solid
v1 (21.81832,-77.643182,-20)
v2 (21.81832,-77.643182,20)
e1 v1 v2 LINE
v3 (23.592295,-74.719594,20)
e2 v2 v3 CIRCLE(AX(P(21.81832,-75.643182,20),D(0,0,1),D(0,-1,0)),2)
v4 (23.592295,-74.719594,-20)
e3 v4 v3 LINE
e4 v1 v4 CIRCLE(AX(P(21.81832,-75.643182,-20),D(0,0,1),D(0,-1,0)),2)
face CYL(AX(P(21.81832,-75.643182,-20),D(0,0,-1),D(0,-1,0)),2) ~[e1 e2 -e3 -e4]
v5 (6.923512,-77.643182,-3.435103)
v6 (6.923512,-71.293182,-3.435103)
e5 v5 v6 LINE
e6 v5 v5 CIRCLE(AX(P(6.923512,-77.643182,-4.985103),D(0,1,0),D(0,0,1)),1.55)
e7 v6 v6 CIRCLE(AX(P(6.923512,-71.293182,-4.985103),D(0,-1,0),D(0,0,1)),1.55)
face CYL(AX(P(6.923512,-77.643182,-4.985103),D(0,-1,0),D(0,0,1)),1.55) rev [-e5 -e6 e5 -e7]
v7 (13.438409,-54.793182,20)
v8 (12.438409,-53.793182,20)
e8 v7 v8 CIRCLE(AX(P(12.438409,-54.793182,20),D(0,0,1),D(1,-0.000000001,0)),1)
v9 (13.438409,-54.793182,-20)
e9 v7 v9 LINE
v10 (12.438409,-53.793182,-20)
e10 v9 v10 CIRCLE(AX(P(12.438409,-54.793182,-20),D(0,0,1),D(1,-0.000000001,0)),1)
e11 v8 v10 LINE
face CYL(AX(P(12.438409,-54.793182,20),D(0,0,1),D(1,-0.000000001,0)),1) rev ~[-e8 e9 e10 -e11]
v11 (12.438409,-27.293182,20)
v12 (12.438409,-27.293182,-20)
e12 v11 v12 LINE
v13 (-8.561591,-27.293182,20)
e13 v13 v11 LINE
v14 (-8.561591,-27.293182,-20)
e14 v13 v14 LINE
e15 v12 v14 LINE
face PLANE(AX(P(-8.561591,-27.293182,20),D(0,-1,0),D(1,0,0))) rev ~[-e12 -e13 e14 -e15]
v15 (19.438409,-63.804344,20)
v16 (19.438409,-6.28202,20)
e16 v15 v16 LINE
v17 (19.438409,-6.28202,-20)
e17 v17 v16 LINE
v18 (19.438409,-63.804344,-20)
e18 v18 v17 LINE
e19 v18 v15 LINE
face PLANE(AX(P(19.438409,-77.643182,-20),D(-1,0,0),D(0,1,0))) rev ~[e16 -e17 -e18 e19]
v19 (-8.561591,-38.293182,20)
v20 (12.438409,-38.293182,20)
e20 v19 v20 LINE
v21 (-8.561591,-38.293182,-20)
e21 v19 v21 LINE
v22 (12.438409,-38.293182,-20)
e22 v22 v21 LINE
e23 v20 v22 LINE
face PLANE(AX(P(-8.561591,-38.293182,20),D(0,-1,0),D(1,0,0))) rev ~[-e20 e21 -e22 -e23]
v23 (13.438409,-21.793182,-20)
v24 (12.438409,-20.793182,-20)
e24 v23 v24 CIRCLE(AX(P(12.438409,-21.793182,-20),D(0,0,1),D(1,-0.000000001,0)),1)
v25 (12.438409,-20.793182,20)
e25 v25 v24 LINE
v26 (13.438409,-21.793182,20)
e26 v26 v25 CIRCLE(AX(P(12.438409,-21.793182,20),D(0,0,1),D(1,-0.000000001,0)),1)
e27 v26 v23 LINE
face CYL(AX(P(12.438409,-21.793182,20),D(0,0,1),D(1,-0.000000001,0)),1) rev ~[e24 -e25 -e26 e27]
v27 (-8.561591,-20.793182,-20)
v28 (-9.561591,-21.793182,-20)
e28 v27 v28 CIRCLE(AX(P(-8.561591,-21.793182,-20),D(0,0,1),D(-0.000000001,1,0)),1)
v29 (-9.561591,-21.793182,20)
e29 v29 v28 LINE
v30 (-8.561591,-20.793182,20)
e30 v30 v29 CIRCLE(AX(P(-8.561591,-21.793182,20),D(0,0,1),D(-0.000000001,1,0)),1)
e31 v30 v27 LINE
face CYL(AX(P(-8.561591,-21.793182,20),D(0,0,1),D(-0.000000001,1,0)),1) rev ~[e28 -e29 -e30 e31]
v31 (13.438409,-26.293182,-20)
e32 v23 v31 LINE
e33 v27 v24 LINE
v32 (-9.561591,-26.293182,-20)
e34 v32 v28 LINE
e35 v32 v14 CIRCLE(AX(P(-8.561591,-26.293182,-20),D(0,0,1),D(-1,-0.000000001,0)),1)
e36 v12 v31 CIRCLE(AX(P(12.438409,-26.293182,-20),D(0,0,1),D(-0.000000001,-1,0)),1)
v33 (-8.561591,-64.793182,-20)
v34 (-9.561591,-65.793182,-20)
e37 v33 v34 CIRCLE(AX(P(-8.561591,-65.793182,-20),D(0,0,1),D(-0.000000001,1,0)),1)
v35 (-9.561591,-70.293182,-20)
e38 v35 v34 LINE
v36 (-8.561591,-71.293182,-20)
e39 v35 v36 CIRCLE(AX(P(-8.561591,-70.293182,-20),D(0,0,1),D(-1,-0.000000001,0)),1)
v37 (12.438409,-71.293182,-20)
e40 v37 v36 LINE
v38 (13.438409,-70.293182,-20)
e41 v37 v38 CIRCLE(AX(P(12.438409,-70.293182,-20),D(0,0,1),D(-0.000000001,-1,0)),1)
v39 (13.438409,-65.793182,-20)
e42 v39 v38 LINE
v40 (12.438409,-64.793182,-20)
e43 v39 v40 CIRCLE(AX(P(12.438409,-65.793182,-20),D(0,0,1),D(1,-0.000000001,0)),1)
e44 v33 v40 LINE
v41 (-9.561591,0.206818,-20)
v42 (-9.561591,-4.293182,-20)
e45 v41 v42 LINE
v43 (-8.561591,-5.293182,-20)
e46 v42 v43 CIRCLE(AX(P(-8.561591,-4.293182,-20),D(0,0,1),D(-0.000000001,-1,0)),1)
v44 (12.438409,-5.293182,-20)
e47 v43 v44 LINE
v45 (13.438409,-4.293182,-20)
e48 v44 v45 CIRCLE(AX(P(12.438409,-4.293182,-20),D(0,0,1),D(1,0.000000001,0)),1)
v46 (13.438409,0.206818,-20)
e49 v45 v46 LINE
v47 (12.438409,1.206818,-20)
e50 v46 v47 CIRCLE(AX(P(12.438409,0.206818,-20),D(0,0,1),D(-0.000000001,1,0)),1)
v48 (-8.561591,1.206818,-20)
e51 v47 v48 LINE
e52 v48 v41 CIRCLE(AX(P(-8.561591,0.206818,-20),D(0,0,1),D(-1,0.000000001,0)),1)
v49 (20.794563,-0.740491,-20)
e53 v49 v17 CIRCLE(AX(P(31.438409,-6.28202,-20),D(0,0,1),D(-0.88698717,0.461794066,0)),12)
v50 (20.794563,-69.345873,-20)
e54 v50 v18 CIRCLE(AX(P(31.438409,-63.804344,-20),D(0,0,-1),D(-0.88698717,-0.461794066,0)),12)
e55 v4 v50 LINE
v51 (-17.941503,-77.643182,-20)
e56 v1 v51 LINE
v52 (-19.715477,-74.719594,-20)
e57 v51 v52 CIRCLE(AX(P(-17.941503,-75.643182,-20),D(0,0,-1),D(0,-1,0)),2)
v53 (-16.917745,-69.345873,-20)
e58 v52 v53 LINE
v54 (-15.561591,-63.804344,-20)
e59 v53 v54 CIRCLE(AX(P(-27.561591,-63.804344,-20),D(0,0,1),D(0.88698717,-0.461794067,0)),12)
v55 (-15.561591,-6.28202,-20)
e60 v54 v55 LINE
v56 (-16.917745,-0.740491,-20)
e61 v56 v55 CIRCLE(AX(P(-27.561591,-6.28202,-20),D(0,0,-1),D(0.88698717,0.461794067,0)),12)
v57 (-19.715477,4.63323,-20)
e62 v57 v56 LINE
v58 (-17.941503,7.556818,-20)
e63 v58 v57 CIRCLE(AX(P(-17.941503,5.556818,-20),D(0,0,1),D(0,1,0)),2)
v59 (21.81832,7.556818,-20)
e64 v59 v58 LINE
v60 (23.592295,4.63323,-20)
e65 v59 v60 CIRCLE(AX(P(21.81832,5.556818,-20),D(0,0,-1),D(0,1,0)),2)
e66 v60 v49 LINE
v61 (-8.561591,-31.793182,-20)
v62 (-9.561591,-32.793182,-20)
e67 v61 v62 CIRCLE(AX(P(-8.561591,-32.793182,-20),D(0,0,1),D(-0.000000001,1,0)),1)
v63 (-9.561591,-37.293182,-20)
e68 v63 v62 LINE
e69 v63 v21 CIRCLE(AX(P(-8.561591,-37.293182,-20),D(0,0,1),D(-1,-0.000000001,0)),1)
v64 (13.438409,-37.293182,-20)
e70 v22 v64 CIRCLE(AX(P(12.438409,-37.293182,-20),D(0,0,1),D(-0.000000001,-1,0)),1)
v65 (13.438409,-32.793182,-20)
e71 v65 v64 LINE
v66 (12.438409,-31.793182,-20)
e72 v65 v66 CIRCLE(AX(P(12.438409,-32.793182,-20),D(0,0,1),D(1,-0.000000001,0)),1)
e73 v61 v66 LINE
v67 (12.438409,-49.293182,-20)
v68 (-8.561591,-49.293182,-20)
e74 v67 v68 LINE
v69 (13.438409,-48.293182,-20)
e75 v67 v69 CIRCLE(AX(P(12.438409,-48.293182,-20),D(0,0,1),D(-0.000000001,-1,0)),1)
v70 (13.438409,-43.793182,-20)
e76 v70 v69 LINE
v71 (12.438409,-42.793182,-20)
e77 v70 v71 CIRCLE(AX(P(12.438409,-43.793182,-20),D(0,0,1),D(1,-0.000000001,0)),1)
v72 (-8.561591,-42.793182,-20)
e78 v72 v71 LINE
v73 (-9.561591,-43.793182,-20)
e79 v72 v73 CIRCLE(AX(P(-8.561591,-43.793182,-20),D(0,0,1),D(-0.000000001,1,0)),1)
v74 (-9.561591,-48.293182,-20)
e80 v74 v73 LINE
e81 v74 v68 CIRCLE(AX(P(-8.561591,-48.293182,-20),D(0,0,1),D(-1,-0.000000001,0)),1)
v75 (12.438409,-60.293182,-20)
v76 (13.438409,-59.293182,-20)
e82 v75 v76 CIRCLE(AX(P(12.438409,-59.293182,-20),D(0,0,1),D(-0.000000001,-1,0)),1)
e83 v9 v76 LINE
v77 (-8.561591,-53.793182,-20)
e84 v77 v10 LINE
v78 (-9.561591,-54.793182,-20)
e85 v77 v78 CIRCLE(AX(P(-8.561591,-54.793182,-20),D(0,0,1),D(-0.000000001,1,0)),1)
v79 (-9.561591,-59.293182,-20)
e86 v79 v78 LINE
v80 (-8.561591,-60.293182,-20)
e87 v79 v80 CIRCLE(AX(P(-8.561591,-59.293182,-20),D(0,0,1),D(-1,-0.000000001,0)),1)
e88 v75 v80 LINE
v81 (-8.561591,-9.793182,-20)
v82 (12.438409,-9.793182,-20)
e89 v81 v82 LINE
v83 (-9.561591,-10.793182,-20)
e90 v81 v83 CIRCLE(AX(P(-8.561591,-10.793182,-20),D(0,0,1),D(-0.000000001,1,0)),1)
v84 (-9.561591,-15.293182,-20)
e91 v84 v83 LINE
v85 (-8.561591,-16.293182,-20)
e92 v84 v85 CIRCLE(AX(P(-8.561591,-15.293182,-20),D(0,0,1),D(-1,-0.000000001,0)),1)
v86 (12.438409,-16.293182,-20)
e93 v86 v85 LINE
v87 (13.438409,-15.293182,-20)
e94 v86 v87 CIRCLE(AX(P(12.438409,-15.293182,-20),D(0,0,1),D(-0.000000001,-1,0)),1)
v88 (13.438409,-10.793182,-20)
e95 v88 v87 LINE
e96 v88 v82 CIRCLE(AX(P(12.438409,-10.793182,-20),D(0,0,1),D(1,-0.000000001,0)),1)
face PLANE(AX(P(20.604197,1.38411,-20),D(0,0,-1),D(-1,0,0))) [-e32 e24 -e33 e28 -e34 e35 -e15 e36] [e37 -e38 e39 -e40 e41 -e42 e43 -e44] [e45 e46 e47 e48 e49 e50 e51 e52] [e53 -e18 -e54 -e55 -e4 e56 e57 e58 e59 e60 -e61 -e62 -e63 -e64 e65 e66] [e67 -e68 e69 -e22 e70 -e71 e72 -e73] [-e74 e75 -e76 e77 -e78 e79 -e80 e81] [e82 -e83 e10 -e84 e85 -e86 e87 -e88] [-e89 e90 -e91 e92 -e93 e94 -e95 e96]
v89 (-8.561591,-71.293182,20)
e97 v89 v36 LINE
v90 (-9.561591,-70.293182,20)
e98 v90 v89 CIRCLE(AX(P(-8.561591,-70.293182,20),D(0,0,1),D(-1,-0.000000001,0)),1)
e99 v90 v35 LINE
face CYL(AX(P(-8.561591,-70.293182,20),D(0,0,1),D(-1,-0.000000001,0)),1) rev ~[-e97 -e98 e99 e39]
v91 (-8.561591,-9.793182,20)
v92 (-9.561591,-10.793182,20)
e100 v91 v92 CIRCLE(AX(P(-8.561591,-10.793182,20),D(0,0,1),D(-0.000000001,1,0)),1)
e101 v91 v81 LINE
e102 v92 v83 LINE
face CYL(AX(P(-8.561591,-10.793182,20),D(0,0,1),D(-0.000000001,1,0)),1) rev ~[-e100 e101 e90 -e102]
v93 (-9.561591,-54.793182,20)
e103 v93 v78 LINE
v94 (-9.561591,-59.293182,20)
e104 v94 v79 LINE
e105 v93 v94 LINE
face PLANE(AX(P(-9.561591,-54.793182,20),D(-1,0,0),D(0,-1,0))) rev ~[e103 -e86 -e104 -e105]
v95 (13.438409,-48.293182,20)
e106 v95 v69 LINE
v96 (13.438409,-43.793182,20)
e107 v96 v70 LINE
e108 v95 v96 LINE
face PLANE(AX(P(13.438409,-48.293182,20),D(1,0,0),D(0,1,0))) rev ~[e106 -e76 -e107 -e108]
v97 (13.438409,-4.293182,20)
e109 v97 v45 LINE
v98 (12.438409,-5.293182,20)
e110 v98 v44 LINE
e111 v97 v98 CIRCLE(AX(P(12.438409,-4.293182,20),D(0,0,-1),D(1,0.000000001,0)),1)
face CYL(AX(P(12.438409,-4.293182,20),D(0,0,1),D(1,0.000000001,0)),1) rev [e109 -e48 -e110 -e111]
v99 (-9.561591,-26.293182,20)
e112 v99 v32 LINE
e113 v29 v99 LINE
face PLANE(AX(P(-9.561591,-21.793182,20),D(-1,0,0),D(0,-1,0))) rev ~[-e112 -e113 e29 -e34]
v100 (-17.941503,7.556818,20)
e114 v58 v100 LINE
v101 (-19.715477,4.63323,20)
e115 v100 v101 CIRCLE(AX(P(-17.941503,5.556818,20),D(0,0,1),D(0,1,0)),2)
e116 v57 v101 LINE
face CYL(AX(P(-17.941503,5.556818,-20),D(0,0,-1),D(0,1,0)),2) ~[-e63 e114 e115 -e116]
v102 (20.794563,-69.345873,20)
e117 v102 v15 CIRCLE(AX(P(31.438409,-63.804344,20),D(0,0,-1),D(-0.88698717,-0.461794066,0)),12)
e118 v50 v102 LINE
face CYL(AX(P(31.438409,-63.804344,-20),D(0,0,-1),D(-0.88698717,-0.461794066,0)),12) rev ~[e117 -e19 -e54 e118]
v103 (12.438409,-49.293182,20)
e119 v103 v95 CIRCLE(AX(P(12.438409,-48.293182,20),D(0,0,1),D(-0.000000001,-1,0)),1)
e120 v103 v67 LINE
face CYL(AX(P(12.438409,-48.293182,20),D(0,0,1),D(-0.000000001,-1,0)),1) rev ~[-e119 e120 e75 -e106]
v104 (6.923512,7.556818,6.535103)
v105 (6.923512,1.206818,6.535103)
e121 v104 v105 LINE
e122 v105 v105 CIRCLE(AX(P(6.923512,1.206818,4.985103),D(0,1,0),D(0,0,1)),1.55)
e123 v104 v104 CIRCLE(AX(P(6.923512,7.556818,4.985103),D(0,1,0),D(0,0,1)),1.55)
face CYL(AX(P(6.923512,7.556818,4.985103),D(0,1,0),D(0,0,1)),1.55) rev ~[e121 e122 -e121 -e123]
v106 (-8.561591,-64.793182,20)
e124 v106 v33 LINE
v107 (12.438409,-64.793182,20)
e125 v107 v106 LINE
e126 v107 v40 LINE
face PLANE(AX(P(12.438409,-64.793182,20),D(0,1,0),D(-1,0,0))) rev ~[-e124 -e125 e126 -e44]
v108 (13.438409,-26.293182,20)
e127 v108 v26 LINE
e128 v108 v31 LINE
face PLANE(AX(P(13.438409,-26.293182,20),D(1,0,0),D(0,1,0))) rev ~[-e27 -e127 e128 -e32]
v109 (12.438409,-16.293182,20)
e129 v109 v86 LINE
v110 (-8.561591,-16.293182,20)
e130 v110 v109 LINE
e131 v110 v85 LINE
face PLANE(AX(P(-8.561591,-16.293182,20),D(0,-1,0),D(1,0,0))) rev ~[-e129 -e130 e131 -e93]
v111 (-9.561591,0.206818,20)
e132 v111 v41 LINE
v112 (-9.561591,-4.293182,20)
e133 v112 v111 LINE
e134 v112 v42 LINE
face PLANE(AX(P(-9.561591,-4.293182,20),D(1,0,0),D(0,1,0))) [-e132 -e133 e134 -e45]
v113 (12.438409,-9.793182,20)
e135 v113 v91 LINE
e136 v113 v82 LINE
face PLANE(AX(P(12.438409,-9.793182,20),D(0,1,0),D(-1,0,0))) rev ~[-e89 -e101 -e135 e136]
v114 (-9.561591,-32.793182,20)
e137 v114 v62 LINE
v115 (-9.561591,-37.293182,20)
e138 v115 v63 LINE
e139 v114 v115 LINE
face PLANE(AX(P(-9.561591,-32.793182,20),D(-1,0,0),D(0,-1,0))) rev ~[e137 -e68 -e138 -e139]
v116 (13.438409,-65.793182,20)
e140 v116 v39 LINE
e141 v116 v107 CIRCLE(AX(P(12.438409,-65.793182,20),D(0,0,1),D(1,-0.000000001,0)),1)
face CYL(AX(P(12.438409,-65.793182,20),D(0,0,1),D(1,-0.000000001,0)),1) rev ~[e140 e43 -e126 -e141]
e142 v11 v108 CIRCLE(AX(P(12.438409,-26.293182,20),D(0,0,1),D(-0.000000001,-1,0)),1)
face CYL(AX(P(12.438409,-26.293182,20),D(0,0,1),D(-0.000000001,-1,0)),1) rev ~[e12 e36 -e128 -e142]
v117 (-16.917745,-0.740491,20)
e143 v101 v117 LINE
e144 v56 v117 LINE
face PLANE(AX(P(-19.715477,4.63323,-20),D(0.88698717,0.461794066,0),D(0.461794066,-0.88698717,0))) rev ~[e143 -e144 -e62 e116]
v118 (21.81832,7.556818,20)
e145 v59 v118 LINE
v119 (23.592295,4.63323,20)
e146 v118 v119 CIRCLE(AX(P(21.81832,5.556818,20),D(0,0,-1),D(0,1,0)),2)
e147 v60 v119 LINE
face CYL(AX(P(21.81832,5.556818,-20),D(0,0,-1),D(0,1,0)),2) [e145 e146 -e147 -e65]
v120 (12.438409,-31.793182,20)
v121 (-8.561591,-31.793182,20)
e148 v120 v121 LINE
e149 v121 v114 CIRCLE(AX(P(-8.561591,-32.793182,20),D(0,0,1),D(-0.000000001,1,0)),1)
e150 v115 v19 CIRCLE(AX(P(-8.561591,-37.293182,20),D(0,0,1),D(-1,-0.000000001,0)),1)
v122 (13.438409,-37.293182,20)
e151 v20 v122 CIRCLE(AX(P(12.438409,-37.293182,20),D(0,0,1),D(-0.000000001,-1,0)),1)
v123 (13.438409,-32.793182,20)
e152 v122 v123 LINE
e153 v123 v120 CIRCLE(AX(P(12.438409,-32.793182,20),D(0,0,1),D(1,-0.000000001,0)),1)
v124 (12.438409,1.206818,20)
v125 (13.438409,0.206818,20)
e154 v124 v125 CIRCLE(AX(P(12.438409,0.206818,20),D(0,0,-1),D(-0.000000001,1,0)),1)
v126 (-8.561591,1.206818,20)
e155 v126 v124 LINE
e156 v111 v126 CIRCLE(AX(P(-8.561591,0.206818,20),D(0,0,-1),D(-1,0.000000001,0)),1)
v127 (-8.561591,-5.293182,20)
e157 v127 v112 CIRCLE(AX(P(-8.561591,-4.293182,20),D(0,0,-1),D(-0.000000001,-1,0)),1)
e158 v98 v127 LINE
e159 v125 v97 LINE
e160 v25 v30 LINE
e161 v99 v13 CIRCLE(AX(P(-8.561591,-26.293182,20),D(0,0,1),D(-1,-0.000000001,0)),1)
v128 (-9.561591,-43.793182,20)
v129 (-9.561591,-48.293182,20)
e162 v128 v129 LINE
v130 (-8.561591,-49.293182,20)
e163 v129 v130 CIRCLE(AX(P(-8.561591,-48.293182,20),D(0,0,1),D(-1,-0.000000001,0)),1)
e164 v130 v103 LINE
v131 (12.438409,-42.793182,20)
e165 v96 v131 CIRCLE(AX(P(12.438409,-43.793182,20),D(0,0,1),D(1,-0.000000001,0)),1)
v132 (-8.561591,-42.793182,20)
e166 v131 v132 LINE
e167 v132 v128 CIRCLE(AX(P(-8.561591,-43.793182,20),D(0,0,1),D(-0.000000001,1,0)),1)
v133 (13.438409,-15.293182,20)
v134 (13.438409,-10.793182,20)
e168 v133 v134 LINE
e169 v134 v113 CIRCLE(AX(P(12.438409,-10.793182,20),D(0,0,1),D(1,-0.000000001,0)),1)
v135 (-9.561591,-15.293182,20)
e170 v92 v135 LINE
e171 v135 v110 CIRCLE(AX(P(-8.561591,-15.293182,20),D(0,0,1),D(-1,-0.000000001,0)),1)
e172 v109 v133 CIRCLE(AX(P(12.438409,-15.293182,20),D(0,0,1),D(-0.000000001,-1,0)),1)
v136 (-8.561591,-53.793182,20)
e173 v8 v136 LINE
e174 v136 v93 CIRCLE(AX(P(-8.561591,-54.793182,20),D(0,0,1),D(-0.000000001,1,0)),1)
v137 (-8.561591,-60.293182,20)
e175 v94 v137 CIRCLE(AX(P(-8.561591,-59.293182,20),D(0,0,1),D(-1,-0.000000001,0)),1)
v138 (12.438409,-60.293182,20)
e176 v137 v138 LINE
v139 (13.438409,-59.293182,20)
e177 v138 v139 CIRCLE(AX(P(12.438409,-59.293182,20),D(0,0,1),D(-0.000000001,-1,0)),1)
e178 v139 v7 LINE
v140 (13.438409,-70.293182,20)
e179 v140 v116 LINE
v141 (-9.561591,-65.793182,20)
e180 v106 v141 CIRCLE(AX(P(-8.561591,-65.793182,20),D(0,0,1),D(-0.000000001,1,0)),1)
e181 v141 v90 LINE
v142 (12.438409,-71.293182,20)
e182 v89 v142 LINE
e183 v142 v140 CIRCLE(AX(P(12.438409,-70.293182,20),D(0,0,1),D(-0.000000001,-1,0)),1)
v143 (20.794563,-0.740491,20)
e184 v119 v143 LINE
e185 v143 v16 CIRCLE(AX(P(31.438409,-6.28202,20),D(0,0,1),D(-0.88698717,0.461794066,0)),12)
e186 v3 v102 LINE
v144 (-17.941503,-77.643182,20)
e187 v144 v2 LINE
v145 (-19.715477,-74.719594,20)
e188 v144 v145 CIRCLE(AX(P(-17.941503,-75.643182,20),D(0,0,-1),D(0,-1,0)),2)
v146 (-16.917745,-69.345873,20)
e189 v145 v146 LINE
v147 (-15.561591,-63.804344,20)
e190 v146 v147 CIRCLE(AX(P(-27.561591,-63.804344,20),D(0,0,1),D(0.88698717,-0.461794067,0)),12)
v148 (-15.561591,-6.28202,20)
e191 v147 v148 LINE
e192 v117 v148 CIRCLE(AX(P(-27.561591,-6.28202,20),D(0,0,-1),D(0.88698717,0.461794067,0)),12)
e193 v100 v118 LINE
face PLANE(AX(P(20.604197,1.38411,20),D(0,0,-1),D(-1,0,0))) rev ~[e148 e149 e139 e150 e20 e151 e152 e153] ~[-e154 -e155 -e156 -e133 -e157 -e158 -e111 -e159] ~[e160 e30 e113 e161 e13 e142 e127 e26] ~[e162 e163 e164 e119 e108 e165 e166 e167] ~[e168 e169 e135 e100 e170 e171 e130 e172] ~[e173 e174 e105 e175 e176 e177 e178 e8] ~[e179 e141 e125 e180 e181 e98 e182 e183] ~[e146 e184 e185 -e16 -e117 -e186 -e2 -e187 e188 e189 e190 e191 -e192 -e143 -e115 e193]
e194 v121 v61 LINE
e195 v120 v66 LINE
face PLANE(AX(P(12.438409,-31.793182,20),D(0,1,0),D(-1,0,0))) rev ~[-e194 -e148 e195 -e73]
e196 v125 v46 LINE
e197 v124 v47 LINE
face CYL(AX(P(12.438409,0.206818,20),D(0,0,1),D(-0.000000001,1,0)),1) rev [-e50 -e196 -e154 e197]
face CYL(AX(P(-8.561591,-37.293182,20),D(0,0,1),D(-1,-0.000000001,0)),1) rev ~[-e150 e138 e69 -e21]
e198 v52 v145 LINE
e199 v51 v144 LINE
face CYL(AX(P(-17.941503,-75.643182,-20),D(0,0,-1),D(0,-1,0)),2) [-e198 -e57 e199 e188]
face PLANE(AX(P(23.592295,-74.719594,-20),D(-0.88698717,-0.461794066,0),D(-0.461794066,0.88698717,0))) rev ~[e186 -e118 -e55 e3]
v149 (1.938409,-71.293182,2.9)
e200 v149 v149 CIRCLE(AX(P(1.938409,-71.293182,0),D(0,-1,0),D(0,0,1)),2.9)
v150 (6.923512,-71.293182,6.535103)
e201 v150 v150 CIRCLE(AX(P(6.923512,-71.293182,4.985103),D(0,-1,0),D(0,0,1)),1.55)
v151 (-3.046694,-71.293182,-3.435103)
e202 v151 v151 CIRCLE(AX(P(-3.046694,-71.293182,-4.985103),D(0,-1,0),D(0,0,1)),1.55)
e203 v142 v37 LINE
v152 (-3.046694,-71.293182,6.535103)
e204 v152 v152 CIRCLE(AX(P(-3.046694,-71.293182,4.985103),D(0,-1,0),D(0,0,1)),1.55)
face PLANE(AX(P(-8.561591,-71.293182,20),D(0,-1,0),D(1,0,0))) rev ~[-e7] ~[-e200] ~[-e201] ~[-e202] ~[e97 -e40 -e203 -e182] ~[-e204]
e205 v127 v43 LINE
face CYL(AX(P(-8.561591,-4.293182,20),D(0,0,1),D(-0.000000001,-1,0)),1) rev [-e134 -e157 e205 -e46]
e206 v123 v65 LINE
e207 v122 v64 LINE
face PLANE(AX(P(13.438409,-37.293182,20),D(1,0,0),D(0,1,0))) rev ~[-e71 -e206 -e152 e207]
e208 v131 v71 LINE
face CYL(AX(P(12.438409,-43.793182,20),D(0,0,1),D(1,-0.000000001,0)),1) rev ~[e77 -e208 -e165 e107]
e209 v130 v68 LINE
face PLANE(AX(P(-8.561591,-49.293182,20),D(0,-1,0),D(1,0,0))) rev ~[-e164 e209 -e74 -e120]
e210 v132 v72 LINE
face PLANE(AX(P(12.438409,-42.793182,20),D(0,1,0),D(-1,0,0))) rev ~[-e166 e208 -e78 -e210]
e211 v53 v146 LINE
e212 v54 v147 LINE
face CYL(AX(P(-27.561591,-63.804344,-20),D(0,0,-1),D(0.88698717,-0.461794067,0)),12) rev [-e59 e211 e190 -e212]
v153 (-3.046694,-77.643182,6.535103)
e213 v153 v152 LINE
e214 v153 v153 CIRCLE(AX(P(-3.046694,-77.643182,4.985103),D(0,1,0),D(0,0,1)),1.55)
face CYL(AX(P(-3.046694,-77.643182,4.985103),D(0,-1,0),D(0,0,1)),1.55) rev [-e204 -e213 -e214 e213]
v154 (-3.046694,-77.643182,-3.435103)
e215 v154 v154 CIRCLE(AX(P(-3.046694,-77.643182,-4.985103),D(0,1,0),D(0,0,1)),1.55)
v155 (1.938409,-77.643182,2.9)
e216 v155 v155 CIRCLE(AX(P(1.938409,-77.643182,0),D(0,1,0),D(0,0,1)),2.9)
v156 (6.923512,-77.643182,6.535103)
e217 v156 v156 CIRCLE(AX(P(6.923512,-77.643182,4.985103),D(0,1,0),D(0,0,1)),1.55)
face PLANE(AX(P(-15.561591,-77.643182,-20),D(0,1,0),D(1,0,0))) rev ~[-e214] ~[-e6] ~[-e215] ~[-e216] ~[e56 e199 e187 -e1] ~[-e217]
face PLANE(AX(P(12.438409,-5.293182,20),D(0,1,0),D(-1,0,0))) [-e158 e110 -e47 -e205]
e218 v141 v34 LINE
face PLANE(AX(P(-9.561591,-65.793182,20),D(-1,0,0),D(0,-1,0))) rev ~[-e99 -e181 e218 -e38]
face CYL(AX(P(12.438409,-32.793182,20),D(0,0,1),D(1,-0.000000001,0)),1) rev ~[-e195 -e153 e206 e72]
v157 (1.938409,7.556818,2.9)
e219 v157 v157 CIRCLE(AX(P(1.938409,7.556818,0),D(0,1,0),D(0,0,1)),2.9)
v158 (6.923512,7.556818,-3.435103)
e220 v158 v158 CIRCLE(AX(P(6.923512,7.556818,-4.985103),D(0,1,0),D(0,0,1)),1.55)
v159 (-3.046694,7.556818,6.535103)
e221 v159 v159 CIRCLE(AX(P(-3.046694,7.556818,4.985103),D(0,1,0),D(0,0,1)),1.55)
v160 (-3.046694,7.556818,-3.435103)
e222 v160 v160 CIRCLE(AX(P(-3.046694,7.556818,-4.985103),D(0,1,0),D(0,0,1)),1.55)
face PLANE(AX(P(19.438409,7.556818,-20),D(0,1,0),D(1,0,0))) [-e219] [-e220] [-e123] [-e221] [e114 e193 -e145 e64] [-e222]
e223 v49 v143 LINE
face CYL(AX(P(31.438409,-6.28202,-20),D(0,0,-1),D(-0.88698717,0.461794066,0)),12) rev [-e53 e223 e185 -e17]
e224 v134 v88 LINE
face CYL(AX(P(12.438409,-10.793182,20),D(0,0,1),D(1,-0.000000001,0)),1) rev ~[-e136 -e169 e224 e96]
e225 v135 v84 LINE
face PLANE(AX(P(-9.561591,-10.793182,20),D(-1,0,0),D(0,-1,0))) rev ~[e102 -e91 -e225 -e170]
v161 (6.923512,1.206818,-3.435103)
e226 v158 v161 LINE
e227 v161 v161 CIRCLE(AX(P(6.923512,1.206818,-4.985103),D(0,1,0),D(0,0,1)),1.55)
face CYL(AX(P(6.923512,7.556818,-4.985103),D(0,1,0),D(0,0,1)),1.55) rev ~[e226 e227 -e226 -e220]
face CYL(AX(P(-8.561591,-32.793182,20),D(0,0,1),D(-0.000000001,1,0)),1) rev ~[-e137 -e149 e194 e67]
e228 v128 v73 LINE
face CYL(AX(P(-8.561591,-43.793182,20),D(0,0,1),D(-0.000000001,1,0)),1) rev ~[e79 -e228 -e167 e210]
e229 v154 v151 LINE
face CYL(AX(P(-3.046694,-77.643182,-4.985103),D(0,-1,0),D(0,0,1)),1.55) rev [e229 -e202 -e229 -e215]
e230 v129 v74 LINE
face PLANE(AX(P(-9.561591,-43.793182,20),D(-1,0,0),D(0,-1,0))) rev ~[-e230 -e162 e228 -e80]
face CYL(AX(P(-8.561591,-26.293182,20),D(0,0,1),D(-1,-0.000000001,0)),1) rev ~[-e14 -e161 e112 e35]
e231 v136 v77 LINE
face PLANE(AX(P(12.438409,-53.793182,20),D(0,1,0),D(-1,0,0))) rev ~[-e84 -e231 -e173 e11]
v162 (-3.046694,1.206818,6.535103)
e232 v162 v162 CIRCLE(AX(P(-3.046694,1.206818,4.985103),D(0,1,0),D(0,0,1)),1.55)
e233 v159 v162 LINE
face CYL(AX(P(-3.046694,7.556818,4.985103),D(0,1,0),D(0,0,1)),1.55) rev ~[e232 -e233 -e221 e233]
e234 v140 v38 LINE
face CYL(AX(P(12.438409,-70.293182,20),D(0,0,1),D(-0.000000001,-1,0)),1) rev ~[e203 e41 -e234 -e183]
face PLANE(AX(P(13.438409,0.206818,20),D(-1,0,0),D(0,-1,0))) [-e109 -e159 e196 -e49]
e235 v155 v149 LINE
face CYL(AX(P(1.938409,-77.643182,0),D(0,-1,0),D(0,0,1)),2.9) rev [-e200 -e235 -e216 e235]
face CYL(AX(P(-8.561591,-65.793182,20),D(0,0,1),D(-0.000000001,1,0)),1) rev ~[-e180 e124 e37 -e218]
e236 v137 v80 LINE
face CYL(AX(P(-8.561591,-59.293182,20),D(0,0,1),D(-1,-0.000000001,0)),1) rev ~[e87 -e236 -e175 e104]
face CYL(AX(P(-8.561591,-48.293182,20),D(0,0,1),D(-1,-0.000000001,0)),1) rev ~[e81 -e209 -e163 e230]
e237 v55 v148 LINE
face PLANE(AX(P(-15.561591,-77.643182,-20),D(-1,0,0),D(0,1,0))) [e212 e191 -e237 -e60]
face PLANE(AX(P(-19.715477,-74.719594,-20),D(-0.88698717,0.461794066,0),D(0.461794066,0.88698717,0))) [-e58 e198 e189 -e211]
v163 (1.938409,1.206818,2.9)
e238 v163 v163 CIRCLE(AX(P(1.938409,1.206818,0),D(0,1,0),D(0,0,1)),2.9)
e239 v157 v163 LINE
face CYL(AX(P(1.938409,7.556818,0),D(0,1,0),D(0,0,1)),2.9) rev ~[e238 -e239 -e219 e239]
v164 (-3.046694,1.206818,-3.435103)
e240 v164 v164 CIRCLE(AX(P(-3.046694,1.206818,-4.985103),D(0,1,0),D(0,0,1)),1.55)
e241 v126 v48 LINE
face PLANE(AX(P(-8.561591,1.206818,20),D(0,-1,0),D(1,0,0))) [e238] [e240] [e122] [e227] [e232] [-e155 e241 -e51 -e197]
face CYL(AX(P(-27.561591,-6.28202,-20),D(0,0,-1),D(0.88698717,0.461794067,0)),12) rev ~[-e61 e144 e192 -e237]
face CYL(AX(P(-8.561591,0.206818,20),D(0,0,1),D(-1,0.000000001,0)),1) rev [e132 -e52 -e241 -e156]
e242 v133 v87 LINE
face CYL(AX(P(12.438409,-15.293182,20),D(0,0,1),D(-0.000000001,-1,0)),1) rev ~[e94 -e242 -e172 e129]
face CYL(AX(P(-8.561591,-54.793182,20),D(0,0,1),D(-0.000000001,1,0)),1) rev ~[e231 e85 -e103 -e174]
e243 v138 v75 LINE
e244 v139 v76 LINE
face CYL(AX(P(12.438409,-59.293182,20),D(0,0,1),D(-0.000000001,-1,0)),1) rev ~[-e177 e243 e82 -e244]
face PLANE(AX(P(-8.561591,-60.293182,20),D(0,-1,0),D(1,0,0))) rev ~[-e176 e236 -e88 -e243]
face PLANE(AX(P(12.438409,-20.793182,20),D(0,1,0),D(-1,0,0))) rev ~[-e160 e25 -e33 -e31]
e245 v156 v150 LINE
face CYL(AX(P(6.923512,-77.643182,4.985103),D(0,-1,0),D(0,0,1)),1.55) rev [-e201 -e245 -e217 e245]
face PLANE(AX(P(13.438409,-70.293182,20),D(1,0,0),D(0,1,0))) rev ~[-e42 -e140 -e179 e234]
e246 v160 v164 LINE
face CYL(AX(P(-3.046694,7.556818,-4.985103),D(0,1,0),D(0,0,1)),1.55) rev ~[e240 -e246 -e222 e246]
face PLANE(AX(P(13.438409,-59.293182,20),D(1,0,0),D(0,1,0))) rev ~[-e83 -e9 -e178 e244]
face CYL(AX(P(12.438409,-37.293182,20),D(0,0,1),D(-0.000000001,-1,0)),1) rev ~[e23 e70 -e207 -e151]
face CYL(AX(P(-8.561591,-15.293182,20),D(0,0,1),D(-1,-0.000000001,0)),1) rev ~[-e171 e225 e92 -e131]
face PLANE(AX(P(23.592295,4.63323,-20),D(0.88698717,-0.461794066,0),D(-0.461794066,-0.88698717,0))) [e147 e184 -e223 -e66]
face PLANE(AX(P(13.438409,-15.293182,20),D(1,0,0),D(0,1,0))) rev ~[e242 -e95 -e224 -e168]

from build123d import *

# Parameters (mm, degrees)
BOSS_EXTRUDE1_DEPTH      = 20
BOSS_EXTRUDE1_DEPTH_BACK = 20
SKETCH1_W                = 35
SKETCH1_H                = 85.2
CUT_EXTRUDE2_REACH       = 91.478
SKETCH5_R                = 1.55
SKETCH5_R_2              = 2.9
CUT_EXTRUDE3_DEPTH       = 8
BOSS_EXTRUDE2_DEPTH      = 40


with BuildPart() as part:
    # Sketch1 → Boss-Extrude1 (new, two sides: drawn at the far end of the back side and taken through both)
    with BuildSketch(Plane.XY.offset(-BOSS_EXTRUDE1_DEPTH_BACK)):
        with Locations((1.938408795, -35.043181818)):
            Rectangle(SKETCH1_W, SKETCH1_H)
    extrude(amount=BOSS_EXTRUDE1_DEPTH + BOSS_EXTRUDE1_DEPTH_BACK)

    # Sketch2 → Cut-Extrude2 (cut, up to next)
    with BuildSketch(Plane.XY.offset(20), mode=Mode.PRIVATE) as cut_extrude2_sk1:
        with BuildLine():
            Line((-9.561591205, -10.793181818), (-9.561591205, -15.293181818))
            ThreePointArc((-9.561591205, -15.293181818), (-9.268697986, -16.000288599), (-8.561591205, -16.293181818))
            Line((-8.561591205, -16.293181818), (12.438408795, -16.293181818))
            ThreePointArc((12.438408795, -16.293181818), (13.145515577, -16.000288599), (13.438408795, -15.293181818))
            Line((13.438408795, -15.293181818), (13.438408795, -10.793181818))
            ThreePointArc((13.438408795, -10.793181818), (13.145515577, -10.086075037), (12.438408795, -9.793181818))
            Line((12.438408795, -9.793181818), (-8.561591205, -9.793181818))
            ThreePointArc((-8.561591205, -9.793181818), (-9.268697986, -10.086075037), (-9.561591205, -10.793181818))
        make_face()
    cut_extrude2_tool1 = extrude(cut_extrude2_sk1.sketch, amount=-CUT_EXTRUDE2_REACH, mode=Mode.PRIVATE) & part.part
    # Sketch2 → Cut-Extrude2 (cut, up to next)
    with BuildSketch(Plane.XY.offset(20), mode=Mode.PRIVATE) as cut_extrude2_sk2:
        with BuildLine():
            Line((-9.561591205, -21.793181818), (-9.561591205, -26.293181818))
            ThreePointArc((-9.561591205, -26.293181818), (-9.268697986, -27.000288599), (-8.561591205, -27.293181818))
            Line((-8.561591205, -27.293181818), (12.438408795, -27.293181818))
            ThreePointArc((12.438408795, -27.293181818), (13.145515577, -27.000288599), (13.438408795, -26.293181818))
            Line((13.438408795, -26.293181818), (13.438408795, -21.793181818))
            ThreePointArc((13.438408795, -21.793181818), (13.145515577, -21.086075037), (12.438408795, -20.793181818))
            Line((12.438408795, -20.793181818), (-8.561591205, -20.793181818))
            ThreePointArc((-8.561591205, -20.793181818), (-9.268697986, -21.086075037), (-9.561591205, -21.793181818))
        make_face()
    cut_extrude2_tool2 = extrude(cut_extrude2_sk2.sketch, amount=-CUT_EXTRUDE2_REACH, mode=Mode.PRIVATE) & part.part
    # Sketch2 → Cut-Extrude2 (cut, up to next)
    with BuildSketch(Plane.XY.offset(20), mode=Mode.PRIVATE) as cut_extrude2_sk3:
        with BuildLine():
            Line((-8.561591205, 1.206818182), (12.438408795, 1.206818182))
            ThreePointArc((12.438408795, 1.206818182), (13.145515577, 0.913924963), (13.438408795, 0.206818182))
            Line((13.438408795, 0.206818182), (13.438408795, -4.293181818))
            ThreePointArc((13.438408795, -4.293181818), (13.145515577, -5.000288599), (12.438408795, -5.293181818))
            Line((12.438408795, -5.293181818), (-8.561591205, -5.293181818))
            ThreePointArc((-8.561591205, -5.293181818), (-9.268697986, -5.000288599), (-9.561591205, -4.293181818))
            Line((-9.561591205, -4.293181818), (-9.561591205, 0.206818182))
            ThreePointArc((-9.561591205, 0.206818182), (-9.268697986, 0.913924963), (-8.561591205, 1.206818182))
        make_face()
    cut_extrude2_tool3 = extrude(cut_extrude2_sk3.sketch, amount=-CUT_EXTRUDE2_REACH, mode=Mode.PRIVATE) & part.part
    # Sketch2 → Cut-Extrude2 (cut, up to next)
    with BuildSketch(Plane.XY.offset(20), mode=Mode.PRIVATE) as cut_extrude2_sk4:
        with BuildLine():
            Line((-9.561591205, -32.793181818), (-9.561591205, -37.293181818))
            ThreePointArc((-9.561591205, -37.293181818), (-9.268697986, -38.000288599), (-8.561591205, -38.293181818))
            Line((-8.561591205, -38.293181818), (12.438408795, -38.293181818))
            ThreePointArc((12.438408795, -38.293181818), (13.145515577, -38.000288599), (13.438408795, -37.293181818))
            Line((13.438408795, -37.293181818), (13.438408795, -32.793181818))
            ThreePointArc((13.438408795, -32.793181818), (13.145515577, -32.086075037), (12.438408795, -31.793181818))
            Line((12.438408795, -31.793181818), (-8.561591205, -31.793181818))
            ThreePointArc((-8.561591205, -31.793181818), (-9.268697986, -32.086075037), (-9.561591205, -32.793181818))
        make_face()
    cut_extrude2_tool4 = extrude(cut_extrude2_sk4.sketch, amount=-CUT_EXTRUDE2_REACH, mode=Mode.PRIVATE) & part.part
    # Sketch2 → Cut-Extrude2 (cut, up to next)
    with BuildSketch(Plane.XY.offset(20), mode=Mode.PRIVATE) as cut_extrude2_sk5:
        with BuildLine():
            Line((-9.561591205, -43.793181818), (-9.561591205, -48.293181818))
            ThreePointArc((-9.561591205, -48.293181818), (-9.268697986, -49.000288599), (-8.561591205, -49.293181818))
            Line((-8.561591205, -49.293181818), (12.438408795, -49.293181818))
            ThreePointArc((12.438408795, -49.293181818), (13.145515577, -49.000288599), (13.438408795, -48.293181818))
            Line((13.438408795, -48.293181818), (13.438408795, -43.793181818))
            ThreePointArc((13.438408795, -43.793181818), (13.145515577, -43.086075037), (12.438408795, -42.793181818))
            Line((12.438408795, -42.793181818), (-8.561591205, -42.793181818))
            ThreePointArc((-8.561591205, -42.793181818), (-9.268697986, -43.086075037), (-9.561591205, -43.793181818))
        make_face()
    cut_extrude2_tool5 = extrude(cut_extrude2_sk5.sketch, amount=-CUT_EXTRUDE2_REACH, mode=Mode.PRIVATE) & part.part
    # Sketch2 → Cut-Extrude2 (cut, up to next)
    with BuildSketch(Plane.XY.offset(20), mode=Mode.PRIVATE) as cut_extrude2_sk6:
        with BuildLine():
            Line((-9.561591205, -54.793181818), (-9.561591205, -59.293181818))
            ThreePointArc((-9.561591205, -59.293181818), (-9.268697986, -60.000288599), (-8.561591205, -60.293181818))
            Line((-8.561591205, -60.293181818), (12.438408795, -60.293181818))
            ThreePointArc((12.438408795, -60.293181818), (13.145515577, -60.000288599), (13.438408795, -59.293181818))
            Line((13.438408795, -59.293181818), (13.438408795, -54.793181818))
            ThreePointArc((13.438408795, -54.793181818), (13.145515577, -54.086075037), (12.438408795, -53.793181818))
            Line((12.438408795, -53.793181818), (-8.561591205, -53.793181818))
            ThreePointArc((-8.561591205, -53.793181818), (-9.268697986, -54.086075037), (-9.561591205, -54.793181818))
        make_face()
    cut_extrude2_tool6 = extrude(cut_extrude2_sk6.sketch, amount=-CUT_EXTRUDE2_REACH, mode=Mode.PRIVATE) & part.part
    # Sketch2 → Cut-Extrude2 (cut, up to next)
    with BuildSketch(Plane.XY.offset(20), mode=Mode.PRIVATE) as cut_extrude2_sk7:
        with BuildLine():
            Line((-9.561591205, -65.793181818), (-9.561591205, -70.293181818))
            ThreePointArc((-9.561591205, -70.293181818), (-9.268697986, -71.000288599), (-8.561591205, -71.293181818))
            Line((-8.561591205, -71.293181818), (12.438408795, -71.293181818))
            ThreePointArc((12.438408795, -71.293181818), (13.145515577, -71.000288599), (13.438408795, -70.293181818))
            Line((13.438408795, -70.293181818), (13.438408795, -65.793181818))
            ThreePointArc((13.438408795, -65.793181818), (13.145515577, -65.086075037), (12.438408795, -64.793181818))
            Line((12.438408795, -64.793181818), (-8.561591205, -64.793181818))
            ThreePointArc((-8.561591205, -64.793181818), (-9.268697986, -65.086075037), (-9.561591205, -65.793181818))
        make_face()
    cut_extrude2_tool7 = extrude(cut_extrude2_sk7.sketch, amount=-CUT_EXTRUDE2_REACH, mode=Mode.PRIVATE) & part.part
    add(cut_extrude2_tool1.solids().sort_by_distance((1.938409, -13.043182, 20))[0], mode=Mode.SUBTRACT)
    add(cut_extrude2_tool2.solids().sort_by_distance((1.938409, -24.043182, 20))[0], mode=Mode.SUBTRACT)
    add(cut_extrude2_tool3.solids().sort_by_distance((1.938409, -2.043182, 20))[0], mode=Mode.SUBTRACT)
    add(cut_extrude2_tool4.solids().sort_by_distance((1.938409, -35.043182, 20))[0], mode=Mode.SUBTRACT)
    add(cut_extrude2_tool5.solids().sort_by_distance((1.938409, -46.043182, 20))[0], mode=Mode.SUBTRACT)
    add(cut_extrude2_tool6.solids().sort_by_distance((1.938409, -57.043182, 20))[0], mode=Mode.SUBTRACT)
    add(cut_extrude2_tool7.solids().sort_by_distance((1.938409, -68.043182, 20))[0], mode=Mode.SUBTRACT)

    # Sketch5 → Cut-Extrude3 (cut)
    with BuildSketch(Plane(origin=(0, 7.556818182, 0), x_dir=(1, 0, 0), z_dir=(0, 1, 0))):
        with Locations(Location((-3.046694012, 4.985102807, 0), (0, 0, 270))):
            Circle(SKETCH5_R)
        with Locations(Location((1.938408795, 0, 0), (0, 0, 270))):
            Circle(SKETCH5_R_2)
        with Locations(Location((6.923511603, 4.985102807, 0), (0, 0, 270))):
            Circle(SKETCH5_R)
        with Locations(Location((6.923511603, -4.985102807, 0), (0, 0, 270))):
            Circle(SKETCH5_R)
        with Locations(Location((-3.046694012, -4.985102807, 0), (0, 0, 270))):
            Circle(SKETCH5_R)
    cut_extrude3 = extrude(amount=-CUT_EXTRUDE3_DEPTH, mode=Mode.SUBTRACT)

    # Mirror3: Cut-Extrude3 across plane
    add(cut_extrude3.mirror(Plane.ZX.offset(-35.043181818)), mode=Mode.SUBTRACT)

    # Sketch7 → Boss-Extrude2 (add)
    with BuildSketch(Plane(origin=(0, 0, -20), x_dir=(-1, 0, 0), z_dir=(0, 0, -1))):
        with BuildLine():
            Line((-19.438408795, 7.556818182), (-21.818320385, 7.556818182))
            ThreePointArc((-21.818320385, 7.556818182), (-23.528170709, 6.594320889), (-23.592294725, 4.633230049))
            Line((-23.592294725, 4.633230049), (-20.794562752, -0.740490723))
            ThreePointArc((-20.794562752, -0.740490723), (-19.782377041, -3.429490161), (-19.438408795, -6.282019519))
            Line((-19.438408795, -6.282019519), (-19.438408795, 7.556818182))
        make_face()
        with BuildLine():
            Line((15.561591205, -77.643181818), (17.941502794, -77.643181818))
            ThreePointArc((17.941502794, -77.643181818), (19.651353118, -76.680684525), (19.715477134, -74.719593686))
            Line((19.715477134, -74.719593686), (16.917745161, -69.345872913))
            ThreePointArc((16.917745161, -69.345872913), (15.90555945, -66.656873475), (15.561591205, -63.804344117))
            Line((15.561591205, -63.804344117), (15.561591205, -77.643181818))
        make_face()
        with BuildLine():
            Line((-19.438408795, -63.804344117), (-19.438408795, -77.643181818))
            Line((-19.438408795, -77.643181818), (-21.818320385, -77.643181818))
            ThreePointArc((-21.818320385, -77.643181818), (-23.528170709, -76.680684525), (-23.592294725, -74.719593686))
            Line((-23.592294725, -74.719593686), (-20.794562752, -69.345872913))
            ThreePointArc((-20.794562752, -69.345872913), (-19.782377041, -66.656873475), (-19.438408795, -63.804344117))
        make_face()
        with BuildLine():
            Line((15.561591205, -6.282019519), (15.561591205, 7.556818182))
            Line((15.561591205, 7.556818182), (17.941502794, 7.556818182))
            ThreePointArc((17.941502794, 7.556818182), (19.651353118, 6.594320889), (19.715477134, 4.633230049))
            Line((19.715477134, 4.633230049), (16.917745161, -0.740490723))
            ThreePointArc((16.917745161, -0.740490723), (15.90555945, -3.429490161), (15.561591205, -6.282019519))
        make_face()
    extrude(amount=-BOSS_EXTRUDE2_DEPTH)


solid = part.part
